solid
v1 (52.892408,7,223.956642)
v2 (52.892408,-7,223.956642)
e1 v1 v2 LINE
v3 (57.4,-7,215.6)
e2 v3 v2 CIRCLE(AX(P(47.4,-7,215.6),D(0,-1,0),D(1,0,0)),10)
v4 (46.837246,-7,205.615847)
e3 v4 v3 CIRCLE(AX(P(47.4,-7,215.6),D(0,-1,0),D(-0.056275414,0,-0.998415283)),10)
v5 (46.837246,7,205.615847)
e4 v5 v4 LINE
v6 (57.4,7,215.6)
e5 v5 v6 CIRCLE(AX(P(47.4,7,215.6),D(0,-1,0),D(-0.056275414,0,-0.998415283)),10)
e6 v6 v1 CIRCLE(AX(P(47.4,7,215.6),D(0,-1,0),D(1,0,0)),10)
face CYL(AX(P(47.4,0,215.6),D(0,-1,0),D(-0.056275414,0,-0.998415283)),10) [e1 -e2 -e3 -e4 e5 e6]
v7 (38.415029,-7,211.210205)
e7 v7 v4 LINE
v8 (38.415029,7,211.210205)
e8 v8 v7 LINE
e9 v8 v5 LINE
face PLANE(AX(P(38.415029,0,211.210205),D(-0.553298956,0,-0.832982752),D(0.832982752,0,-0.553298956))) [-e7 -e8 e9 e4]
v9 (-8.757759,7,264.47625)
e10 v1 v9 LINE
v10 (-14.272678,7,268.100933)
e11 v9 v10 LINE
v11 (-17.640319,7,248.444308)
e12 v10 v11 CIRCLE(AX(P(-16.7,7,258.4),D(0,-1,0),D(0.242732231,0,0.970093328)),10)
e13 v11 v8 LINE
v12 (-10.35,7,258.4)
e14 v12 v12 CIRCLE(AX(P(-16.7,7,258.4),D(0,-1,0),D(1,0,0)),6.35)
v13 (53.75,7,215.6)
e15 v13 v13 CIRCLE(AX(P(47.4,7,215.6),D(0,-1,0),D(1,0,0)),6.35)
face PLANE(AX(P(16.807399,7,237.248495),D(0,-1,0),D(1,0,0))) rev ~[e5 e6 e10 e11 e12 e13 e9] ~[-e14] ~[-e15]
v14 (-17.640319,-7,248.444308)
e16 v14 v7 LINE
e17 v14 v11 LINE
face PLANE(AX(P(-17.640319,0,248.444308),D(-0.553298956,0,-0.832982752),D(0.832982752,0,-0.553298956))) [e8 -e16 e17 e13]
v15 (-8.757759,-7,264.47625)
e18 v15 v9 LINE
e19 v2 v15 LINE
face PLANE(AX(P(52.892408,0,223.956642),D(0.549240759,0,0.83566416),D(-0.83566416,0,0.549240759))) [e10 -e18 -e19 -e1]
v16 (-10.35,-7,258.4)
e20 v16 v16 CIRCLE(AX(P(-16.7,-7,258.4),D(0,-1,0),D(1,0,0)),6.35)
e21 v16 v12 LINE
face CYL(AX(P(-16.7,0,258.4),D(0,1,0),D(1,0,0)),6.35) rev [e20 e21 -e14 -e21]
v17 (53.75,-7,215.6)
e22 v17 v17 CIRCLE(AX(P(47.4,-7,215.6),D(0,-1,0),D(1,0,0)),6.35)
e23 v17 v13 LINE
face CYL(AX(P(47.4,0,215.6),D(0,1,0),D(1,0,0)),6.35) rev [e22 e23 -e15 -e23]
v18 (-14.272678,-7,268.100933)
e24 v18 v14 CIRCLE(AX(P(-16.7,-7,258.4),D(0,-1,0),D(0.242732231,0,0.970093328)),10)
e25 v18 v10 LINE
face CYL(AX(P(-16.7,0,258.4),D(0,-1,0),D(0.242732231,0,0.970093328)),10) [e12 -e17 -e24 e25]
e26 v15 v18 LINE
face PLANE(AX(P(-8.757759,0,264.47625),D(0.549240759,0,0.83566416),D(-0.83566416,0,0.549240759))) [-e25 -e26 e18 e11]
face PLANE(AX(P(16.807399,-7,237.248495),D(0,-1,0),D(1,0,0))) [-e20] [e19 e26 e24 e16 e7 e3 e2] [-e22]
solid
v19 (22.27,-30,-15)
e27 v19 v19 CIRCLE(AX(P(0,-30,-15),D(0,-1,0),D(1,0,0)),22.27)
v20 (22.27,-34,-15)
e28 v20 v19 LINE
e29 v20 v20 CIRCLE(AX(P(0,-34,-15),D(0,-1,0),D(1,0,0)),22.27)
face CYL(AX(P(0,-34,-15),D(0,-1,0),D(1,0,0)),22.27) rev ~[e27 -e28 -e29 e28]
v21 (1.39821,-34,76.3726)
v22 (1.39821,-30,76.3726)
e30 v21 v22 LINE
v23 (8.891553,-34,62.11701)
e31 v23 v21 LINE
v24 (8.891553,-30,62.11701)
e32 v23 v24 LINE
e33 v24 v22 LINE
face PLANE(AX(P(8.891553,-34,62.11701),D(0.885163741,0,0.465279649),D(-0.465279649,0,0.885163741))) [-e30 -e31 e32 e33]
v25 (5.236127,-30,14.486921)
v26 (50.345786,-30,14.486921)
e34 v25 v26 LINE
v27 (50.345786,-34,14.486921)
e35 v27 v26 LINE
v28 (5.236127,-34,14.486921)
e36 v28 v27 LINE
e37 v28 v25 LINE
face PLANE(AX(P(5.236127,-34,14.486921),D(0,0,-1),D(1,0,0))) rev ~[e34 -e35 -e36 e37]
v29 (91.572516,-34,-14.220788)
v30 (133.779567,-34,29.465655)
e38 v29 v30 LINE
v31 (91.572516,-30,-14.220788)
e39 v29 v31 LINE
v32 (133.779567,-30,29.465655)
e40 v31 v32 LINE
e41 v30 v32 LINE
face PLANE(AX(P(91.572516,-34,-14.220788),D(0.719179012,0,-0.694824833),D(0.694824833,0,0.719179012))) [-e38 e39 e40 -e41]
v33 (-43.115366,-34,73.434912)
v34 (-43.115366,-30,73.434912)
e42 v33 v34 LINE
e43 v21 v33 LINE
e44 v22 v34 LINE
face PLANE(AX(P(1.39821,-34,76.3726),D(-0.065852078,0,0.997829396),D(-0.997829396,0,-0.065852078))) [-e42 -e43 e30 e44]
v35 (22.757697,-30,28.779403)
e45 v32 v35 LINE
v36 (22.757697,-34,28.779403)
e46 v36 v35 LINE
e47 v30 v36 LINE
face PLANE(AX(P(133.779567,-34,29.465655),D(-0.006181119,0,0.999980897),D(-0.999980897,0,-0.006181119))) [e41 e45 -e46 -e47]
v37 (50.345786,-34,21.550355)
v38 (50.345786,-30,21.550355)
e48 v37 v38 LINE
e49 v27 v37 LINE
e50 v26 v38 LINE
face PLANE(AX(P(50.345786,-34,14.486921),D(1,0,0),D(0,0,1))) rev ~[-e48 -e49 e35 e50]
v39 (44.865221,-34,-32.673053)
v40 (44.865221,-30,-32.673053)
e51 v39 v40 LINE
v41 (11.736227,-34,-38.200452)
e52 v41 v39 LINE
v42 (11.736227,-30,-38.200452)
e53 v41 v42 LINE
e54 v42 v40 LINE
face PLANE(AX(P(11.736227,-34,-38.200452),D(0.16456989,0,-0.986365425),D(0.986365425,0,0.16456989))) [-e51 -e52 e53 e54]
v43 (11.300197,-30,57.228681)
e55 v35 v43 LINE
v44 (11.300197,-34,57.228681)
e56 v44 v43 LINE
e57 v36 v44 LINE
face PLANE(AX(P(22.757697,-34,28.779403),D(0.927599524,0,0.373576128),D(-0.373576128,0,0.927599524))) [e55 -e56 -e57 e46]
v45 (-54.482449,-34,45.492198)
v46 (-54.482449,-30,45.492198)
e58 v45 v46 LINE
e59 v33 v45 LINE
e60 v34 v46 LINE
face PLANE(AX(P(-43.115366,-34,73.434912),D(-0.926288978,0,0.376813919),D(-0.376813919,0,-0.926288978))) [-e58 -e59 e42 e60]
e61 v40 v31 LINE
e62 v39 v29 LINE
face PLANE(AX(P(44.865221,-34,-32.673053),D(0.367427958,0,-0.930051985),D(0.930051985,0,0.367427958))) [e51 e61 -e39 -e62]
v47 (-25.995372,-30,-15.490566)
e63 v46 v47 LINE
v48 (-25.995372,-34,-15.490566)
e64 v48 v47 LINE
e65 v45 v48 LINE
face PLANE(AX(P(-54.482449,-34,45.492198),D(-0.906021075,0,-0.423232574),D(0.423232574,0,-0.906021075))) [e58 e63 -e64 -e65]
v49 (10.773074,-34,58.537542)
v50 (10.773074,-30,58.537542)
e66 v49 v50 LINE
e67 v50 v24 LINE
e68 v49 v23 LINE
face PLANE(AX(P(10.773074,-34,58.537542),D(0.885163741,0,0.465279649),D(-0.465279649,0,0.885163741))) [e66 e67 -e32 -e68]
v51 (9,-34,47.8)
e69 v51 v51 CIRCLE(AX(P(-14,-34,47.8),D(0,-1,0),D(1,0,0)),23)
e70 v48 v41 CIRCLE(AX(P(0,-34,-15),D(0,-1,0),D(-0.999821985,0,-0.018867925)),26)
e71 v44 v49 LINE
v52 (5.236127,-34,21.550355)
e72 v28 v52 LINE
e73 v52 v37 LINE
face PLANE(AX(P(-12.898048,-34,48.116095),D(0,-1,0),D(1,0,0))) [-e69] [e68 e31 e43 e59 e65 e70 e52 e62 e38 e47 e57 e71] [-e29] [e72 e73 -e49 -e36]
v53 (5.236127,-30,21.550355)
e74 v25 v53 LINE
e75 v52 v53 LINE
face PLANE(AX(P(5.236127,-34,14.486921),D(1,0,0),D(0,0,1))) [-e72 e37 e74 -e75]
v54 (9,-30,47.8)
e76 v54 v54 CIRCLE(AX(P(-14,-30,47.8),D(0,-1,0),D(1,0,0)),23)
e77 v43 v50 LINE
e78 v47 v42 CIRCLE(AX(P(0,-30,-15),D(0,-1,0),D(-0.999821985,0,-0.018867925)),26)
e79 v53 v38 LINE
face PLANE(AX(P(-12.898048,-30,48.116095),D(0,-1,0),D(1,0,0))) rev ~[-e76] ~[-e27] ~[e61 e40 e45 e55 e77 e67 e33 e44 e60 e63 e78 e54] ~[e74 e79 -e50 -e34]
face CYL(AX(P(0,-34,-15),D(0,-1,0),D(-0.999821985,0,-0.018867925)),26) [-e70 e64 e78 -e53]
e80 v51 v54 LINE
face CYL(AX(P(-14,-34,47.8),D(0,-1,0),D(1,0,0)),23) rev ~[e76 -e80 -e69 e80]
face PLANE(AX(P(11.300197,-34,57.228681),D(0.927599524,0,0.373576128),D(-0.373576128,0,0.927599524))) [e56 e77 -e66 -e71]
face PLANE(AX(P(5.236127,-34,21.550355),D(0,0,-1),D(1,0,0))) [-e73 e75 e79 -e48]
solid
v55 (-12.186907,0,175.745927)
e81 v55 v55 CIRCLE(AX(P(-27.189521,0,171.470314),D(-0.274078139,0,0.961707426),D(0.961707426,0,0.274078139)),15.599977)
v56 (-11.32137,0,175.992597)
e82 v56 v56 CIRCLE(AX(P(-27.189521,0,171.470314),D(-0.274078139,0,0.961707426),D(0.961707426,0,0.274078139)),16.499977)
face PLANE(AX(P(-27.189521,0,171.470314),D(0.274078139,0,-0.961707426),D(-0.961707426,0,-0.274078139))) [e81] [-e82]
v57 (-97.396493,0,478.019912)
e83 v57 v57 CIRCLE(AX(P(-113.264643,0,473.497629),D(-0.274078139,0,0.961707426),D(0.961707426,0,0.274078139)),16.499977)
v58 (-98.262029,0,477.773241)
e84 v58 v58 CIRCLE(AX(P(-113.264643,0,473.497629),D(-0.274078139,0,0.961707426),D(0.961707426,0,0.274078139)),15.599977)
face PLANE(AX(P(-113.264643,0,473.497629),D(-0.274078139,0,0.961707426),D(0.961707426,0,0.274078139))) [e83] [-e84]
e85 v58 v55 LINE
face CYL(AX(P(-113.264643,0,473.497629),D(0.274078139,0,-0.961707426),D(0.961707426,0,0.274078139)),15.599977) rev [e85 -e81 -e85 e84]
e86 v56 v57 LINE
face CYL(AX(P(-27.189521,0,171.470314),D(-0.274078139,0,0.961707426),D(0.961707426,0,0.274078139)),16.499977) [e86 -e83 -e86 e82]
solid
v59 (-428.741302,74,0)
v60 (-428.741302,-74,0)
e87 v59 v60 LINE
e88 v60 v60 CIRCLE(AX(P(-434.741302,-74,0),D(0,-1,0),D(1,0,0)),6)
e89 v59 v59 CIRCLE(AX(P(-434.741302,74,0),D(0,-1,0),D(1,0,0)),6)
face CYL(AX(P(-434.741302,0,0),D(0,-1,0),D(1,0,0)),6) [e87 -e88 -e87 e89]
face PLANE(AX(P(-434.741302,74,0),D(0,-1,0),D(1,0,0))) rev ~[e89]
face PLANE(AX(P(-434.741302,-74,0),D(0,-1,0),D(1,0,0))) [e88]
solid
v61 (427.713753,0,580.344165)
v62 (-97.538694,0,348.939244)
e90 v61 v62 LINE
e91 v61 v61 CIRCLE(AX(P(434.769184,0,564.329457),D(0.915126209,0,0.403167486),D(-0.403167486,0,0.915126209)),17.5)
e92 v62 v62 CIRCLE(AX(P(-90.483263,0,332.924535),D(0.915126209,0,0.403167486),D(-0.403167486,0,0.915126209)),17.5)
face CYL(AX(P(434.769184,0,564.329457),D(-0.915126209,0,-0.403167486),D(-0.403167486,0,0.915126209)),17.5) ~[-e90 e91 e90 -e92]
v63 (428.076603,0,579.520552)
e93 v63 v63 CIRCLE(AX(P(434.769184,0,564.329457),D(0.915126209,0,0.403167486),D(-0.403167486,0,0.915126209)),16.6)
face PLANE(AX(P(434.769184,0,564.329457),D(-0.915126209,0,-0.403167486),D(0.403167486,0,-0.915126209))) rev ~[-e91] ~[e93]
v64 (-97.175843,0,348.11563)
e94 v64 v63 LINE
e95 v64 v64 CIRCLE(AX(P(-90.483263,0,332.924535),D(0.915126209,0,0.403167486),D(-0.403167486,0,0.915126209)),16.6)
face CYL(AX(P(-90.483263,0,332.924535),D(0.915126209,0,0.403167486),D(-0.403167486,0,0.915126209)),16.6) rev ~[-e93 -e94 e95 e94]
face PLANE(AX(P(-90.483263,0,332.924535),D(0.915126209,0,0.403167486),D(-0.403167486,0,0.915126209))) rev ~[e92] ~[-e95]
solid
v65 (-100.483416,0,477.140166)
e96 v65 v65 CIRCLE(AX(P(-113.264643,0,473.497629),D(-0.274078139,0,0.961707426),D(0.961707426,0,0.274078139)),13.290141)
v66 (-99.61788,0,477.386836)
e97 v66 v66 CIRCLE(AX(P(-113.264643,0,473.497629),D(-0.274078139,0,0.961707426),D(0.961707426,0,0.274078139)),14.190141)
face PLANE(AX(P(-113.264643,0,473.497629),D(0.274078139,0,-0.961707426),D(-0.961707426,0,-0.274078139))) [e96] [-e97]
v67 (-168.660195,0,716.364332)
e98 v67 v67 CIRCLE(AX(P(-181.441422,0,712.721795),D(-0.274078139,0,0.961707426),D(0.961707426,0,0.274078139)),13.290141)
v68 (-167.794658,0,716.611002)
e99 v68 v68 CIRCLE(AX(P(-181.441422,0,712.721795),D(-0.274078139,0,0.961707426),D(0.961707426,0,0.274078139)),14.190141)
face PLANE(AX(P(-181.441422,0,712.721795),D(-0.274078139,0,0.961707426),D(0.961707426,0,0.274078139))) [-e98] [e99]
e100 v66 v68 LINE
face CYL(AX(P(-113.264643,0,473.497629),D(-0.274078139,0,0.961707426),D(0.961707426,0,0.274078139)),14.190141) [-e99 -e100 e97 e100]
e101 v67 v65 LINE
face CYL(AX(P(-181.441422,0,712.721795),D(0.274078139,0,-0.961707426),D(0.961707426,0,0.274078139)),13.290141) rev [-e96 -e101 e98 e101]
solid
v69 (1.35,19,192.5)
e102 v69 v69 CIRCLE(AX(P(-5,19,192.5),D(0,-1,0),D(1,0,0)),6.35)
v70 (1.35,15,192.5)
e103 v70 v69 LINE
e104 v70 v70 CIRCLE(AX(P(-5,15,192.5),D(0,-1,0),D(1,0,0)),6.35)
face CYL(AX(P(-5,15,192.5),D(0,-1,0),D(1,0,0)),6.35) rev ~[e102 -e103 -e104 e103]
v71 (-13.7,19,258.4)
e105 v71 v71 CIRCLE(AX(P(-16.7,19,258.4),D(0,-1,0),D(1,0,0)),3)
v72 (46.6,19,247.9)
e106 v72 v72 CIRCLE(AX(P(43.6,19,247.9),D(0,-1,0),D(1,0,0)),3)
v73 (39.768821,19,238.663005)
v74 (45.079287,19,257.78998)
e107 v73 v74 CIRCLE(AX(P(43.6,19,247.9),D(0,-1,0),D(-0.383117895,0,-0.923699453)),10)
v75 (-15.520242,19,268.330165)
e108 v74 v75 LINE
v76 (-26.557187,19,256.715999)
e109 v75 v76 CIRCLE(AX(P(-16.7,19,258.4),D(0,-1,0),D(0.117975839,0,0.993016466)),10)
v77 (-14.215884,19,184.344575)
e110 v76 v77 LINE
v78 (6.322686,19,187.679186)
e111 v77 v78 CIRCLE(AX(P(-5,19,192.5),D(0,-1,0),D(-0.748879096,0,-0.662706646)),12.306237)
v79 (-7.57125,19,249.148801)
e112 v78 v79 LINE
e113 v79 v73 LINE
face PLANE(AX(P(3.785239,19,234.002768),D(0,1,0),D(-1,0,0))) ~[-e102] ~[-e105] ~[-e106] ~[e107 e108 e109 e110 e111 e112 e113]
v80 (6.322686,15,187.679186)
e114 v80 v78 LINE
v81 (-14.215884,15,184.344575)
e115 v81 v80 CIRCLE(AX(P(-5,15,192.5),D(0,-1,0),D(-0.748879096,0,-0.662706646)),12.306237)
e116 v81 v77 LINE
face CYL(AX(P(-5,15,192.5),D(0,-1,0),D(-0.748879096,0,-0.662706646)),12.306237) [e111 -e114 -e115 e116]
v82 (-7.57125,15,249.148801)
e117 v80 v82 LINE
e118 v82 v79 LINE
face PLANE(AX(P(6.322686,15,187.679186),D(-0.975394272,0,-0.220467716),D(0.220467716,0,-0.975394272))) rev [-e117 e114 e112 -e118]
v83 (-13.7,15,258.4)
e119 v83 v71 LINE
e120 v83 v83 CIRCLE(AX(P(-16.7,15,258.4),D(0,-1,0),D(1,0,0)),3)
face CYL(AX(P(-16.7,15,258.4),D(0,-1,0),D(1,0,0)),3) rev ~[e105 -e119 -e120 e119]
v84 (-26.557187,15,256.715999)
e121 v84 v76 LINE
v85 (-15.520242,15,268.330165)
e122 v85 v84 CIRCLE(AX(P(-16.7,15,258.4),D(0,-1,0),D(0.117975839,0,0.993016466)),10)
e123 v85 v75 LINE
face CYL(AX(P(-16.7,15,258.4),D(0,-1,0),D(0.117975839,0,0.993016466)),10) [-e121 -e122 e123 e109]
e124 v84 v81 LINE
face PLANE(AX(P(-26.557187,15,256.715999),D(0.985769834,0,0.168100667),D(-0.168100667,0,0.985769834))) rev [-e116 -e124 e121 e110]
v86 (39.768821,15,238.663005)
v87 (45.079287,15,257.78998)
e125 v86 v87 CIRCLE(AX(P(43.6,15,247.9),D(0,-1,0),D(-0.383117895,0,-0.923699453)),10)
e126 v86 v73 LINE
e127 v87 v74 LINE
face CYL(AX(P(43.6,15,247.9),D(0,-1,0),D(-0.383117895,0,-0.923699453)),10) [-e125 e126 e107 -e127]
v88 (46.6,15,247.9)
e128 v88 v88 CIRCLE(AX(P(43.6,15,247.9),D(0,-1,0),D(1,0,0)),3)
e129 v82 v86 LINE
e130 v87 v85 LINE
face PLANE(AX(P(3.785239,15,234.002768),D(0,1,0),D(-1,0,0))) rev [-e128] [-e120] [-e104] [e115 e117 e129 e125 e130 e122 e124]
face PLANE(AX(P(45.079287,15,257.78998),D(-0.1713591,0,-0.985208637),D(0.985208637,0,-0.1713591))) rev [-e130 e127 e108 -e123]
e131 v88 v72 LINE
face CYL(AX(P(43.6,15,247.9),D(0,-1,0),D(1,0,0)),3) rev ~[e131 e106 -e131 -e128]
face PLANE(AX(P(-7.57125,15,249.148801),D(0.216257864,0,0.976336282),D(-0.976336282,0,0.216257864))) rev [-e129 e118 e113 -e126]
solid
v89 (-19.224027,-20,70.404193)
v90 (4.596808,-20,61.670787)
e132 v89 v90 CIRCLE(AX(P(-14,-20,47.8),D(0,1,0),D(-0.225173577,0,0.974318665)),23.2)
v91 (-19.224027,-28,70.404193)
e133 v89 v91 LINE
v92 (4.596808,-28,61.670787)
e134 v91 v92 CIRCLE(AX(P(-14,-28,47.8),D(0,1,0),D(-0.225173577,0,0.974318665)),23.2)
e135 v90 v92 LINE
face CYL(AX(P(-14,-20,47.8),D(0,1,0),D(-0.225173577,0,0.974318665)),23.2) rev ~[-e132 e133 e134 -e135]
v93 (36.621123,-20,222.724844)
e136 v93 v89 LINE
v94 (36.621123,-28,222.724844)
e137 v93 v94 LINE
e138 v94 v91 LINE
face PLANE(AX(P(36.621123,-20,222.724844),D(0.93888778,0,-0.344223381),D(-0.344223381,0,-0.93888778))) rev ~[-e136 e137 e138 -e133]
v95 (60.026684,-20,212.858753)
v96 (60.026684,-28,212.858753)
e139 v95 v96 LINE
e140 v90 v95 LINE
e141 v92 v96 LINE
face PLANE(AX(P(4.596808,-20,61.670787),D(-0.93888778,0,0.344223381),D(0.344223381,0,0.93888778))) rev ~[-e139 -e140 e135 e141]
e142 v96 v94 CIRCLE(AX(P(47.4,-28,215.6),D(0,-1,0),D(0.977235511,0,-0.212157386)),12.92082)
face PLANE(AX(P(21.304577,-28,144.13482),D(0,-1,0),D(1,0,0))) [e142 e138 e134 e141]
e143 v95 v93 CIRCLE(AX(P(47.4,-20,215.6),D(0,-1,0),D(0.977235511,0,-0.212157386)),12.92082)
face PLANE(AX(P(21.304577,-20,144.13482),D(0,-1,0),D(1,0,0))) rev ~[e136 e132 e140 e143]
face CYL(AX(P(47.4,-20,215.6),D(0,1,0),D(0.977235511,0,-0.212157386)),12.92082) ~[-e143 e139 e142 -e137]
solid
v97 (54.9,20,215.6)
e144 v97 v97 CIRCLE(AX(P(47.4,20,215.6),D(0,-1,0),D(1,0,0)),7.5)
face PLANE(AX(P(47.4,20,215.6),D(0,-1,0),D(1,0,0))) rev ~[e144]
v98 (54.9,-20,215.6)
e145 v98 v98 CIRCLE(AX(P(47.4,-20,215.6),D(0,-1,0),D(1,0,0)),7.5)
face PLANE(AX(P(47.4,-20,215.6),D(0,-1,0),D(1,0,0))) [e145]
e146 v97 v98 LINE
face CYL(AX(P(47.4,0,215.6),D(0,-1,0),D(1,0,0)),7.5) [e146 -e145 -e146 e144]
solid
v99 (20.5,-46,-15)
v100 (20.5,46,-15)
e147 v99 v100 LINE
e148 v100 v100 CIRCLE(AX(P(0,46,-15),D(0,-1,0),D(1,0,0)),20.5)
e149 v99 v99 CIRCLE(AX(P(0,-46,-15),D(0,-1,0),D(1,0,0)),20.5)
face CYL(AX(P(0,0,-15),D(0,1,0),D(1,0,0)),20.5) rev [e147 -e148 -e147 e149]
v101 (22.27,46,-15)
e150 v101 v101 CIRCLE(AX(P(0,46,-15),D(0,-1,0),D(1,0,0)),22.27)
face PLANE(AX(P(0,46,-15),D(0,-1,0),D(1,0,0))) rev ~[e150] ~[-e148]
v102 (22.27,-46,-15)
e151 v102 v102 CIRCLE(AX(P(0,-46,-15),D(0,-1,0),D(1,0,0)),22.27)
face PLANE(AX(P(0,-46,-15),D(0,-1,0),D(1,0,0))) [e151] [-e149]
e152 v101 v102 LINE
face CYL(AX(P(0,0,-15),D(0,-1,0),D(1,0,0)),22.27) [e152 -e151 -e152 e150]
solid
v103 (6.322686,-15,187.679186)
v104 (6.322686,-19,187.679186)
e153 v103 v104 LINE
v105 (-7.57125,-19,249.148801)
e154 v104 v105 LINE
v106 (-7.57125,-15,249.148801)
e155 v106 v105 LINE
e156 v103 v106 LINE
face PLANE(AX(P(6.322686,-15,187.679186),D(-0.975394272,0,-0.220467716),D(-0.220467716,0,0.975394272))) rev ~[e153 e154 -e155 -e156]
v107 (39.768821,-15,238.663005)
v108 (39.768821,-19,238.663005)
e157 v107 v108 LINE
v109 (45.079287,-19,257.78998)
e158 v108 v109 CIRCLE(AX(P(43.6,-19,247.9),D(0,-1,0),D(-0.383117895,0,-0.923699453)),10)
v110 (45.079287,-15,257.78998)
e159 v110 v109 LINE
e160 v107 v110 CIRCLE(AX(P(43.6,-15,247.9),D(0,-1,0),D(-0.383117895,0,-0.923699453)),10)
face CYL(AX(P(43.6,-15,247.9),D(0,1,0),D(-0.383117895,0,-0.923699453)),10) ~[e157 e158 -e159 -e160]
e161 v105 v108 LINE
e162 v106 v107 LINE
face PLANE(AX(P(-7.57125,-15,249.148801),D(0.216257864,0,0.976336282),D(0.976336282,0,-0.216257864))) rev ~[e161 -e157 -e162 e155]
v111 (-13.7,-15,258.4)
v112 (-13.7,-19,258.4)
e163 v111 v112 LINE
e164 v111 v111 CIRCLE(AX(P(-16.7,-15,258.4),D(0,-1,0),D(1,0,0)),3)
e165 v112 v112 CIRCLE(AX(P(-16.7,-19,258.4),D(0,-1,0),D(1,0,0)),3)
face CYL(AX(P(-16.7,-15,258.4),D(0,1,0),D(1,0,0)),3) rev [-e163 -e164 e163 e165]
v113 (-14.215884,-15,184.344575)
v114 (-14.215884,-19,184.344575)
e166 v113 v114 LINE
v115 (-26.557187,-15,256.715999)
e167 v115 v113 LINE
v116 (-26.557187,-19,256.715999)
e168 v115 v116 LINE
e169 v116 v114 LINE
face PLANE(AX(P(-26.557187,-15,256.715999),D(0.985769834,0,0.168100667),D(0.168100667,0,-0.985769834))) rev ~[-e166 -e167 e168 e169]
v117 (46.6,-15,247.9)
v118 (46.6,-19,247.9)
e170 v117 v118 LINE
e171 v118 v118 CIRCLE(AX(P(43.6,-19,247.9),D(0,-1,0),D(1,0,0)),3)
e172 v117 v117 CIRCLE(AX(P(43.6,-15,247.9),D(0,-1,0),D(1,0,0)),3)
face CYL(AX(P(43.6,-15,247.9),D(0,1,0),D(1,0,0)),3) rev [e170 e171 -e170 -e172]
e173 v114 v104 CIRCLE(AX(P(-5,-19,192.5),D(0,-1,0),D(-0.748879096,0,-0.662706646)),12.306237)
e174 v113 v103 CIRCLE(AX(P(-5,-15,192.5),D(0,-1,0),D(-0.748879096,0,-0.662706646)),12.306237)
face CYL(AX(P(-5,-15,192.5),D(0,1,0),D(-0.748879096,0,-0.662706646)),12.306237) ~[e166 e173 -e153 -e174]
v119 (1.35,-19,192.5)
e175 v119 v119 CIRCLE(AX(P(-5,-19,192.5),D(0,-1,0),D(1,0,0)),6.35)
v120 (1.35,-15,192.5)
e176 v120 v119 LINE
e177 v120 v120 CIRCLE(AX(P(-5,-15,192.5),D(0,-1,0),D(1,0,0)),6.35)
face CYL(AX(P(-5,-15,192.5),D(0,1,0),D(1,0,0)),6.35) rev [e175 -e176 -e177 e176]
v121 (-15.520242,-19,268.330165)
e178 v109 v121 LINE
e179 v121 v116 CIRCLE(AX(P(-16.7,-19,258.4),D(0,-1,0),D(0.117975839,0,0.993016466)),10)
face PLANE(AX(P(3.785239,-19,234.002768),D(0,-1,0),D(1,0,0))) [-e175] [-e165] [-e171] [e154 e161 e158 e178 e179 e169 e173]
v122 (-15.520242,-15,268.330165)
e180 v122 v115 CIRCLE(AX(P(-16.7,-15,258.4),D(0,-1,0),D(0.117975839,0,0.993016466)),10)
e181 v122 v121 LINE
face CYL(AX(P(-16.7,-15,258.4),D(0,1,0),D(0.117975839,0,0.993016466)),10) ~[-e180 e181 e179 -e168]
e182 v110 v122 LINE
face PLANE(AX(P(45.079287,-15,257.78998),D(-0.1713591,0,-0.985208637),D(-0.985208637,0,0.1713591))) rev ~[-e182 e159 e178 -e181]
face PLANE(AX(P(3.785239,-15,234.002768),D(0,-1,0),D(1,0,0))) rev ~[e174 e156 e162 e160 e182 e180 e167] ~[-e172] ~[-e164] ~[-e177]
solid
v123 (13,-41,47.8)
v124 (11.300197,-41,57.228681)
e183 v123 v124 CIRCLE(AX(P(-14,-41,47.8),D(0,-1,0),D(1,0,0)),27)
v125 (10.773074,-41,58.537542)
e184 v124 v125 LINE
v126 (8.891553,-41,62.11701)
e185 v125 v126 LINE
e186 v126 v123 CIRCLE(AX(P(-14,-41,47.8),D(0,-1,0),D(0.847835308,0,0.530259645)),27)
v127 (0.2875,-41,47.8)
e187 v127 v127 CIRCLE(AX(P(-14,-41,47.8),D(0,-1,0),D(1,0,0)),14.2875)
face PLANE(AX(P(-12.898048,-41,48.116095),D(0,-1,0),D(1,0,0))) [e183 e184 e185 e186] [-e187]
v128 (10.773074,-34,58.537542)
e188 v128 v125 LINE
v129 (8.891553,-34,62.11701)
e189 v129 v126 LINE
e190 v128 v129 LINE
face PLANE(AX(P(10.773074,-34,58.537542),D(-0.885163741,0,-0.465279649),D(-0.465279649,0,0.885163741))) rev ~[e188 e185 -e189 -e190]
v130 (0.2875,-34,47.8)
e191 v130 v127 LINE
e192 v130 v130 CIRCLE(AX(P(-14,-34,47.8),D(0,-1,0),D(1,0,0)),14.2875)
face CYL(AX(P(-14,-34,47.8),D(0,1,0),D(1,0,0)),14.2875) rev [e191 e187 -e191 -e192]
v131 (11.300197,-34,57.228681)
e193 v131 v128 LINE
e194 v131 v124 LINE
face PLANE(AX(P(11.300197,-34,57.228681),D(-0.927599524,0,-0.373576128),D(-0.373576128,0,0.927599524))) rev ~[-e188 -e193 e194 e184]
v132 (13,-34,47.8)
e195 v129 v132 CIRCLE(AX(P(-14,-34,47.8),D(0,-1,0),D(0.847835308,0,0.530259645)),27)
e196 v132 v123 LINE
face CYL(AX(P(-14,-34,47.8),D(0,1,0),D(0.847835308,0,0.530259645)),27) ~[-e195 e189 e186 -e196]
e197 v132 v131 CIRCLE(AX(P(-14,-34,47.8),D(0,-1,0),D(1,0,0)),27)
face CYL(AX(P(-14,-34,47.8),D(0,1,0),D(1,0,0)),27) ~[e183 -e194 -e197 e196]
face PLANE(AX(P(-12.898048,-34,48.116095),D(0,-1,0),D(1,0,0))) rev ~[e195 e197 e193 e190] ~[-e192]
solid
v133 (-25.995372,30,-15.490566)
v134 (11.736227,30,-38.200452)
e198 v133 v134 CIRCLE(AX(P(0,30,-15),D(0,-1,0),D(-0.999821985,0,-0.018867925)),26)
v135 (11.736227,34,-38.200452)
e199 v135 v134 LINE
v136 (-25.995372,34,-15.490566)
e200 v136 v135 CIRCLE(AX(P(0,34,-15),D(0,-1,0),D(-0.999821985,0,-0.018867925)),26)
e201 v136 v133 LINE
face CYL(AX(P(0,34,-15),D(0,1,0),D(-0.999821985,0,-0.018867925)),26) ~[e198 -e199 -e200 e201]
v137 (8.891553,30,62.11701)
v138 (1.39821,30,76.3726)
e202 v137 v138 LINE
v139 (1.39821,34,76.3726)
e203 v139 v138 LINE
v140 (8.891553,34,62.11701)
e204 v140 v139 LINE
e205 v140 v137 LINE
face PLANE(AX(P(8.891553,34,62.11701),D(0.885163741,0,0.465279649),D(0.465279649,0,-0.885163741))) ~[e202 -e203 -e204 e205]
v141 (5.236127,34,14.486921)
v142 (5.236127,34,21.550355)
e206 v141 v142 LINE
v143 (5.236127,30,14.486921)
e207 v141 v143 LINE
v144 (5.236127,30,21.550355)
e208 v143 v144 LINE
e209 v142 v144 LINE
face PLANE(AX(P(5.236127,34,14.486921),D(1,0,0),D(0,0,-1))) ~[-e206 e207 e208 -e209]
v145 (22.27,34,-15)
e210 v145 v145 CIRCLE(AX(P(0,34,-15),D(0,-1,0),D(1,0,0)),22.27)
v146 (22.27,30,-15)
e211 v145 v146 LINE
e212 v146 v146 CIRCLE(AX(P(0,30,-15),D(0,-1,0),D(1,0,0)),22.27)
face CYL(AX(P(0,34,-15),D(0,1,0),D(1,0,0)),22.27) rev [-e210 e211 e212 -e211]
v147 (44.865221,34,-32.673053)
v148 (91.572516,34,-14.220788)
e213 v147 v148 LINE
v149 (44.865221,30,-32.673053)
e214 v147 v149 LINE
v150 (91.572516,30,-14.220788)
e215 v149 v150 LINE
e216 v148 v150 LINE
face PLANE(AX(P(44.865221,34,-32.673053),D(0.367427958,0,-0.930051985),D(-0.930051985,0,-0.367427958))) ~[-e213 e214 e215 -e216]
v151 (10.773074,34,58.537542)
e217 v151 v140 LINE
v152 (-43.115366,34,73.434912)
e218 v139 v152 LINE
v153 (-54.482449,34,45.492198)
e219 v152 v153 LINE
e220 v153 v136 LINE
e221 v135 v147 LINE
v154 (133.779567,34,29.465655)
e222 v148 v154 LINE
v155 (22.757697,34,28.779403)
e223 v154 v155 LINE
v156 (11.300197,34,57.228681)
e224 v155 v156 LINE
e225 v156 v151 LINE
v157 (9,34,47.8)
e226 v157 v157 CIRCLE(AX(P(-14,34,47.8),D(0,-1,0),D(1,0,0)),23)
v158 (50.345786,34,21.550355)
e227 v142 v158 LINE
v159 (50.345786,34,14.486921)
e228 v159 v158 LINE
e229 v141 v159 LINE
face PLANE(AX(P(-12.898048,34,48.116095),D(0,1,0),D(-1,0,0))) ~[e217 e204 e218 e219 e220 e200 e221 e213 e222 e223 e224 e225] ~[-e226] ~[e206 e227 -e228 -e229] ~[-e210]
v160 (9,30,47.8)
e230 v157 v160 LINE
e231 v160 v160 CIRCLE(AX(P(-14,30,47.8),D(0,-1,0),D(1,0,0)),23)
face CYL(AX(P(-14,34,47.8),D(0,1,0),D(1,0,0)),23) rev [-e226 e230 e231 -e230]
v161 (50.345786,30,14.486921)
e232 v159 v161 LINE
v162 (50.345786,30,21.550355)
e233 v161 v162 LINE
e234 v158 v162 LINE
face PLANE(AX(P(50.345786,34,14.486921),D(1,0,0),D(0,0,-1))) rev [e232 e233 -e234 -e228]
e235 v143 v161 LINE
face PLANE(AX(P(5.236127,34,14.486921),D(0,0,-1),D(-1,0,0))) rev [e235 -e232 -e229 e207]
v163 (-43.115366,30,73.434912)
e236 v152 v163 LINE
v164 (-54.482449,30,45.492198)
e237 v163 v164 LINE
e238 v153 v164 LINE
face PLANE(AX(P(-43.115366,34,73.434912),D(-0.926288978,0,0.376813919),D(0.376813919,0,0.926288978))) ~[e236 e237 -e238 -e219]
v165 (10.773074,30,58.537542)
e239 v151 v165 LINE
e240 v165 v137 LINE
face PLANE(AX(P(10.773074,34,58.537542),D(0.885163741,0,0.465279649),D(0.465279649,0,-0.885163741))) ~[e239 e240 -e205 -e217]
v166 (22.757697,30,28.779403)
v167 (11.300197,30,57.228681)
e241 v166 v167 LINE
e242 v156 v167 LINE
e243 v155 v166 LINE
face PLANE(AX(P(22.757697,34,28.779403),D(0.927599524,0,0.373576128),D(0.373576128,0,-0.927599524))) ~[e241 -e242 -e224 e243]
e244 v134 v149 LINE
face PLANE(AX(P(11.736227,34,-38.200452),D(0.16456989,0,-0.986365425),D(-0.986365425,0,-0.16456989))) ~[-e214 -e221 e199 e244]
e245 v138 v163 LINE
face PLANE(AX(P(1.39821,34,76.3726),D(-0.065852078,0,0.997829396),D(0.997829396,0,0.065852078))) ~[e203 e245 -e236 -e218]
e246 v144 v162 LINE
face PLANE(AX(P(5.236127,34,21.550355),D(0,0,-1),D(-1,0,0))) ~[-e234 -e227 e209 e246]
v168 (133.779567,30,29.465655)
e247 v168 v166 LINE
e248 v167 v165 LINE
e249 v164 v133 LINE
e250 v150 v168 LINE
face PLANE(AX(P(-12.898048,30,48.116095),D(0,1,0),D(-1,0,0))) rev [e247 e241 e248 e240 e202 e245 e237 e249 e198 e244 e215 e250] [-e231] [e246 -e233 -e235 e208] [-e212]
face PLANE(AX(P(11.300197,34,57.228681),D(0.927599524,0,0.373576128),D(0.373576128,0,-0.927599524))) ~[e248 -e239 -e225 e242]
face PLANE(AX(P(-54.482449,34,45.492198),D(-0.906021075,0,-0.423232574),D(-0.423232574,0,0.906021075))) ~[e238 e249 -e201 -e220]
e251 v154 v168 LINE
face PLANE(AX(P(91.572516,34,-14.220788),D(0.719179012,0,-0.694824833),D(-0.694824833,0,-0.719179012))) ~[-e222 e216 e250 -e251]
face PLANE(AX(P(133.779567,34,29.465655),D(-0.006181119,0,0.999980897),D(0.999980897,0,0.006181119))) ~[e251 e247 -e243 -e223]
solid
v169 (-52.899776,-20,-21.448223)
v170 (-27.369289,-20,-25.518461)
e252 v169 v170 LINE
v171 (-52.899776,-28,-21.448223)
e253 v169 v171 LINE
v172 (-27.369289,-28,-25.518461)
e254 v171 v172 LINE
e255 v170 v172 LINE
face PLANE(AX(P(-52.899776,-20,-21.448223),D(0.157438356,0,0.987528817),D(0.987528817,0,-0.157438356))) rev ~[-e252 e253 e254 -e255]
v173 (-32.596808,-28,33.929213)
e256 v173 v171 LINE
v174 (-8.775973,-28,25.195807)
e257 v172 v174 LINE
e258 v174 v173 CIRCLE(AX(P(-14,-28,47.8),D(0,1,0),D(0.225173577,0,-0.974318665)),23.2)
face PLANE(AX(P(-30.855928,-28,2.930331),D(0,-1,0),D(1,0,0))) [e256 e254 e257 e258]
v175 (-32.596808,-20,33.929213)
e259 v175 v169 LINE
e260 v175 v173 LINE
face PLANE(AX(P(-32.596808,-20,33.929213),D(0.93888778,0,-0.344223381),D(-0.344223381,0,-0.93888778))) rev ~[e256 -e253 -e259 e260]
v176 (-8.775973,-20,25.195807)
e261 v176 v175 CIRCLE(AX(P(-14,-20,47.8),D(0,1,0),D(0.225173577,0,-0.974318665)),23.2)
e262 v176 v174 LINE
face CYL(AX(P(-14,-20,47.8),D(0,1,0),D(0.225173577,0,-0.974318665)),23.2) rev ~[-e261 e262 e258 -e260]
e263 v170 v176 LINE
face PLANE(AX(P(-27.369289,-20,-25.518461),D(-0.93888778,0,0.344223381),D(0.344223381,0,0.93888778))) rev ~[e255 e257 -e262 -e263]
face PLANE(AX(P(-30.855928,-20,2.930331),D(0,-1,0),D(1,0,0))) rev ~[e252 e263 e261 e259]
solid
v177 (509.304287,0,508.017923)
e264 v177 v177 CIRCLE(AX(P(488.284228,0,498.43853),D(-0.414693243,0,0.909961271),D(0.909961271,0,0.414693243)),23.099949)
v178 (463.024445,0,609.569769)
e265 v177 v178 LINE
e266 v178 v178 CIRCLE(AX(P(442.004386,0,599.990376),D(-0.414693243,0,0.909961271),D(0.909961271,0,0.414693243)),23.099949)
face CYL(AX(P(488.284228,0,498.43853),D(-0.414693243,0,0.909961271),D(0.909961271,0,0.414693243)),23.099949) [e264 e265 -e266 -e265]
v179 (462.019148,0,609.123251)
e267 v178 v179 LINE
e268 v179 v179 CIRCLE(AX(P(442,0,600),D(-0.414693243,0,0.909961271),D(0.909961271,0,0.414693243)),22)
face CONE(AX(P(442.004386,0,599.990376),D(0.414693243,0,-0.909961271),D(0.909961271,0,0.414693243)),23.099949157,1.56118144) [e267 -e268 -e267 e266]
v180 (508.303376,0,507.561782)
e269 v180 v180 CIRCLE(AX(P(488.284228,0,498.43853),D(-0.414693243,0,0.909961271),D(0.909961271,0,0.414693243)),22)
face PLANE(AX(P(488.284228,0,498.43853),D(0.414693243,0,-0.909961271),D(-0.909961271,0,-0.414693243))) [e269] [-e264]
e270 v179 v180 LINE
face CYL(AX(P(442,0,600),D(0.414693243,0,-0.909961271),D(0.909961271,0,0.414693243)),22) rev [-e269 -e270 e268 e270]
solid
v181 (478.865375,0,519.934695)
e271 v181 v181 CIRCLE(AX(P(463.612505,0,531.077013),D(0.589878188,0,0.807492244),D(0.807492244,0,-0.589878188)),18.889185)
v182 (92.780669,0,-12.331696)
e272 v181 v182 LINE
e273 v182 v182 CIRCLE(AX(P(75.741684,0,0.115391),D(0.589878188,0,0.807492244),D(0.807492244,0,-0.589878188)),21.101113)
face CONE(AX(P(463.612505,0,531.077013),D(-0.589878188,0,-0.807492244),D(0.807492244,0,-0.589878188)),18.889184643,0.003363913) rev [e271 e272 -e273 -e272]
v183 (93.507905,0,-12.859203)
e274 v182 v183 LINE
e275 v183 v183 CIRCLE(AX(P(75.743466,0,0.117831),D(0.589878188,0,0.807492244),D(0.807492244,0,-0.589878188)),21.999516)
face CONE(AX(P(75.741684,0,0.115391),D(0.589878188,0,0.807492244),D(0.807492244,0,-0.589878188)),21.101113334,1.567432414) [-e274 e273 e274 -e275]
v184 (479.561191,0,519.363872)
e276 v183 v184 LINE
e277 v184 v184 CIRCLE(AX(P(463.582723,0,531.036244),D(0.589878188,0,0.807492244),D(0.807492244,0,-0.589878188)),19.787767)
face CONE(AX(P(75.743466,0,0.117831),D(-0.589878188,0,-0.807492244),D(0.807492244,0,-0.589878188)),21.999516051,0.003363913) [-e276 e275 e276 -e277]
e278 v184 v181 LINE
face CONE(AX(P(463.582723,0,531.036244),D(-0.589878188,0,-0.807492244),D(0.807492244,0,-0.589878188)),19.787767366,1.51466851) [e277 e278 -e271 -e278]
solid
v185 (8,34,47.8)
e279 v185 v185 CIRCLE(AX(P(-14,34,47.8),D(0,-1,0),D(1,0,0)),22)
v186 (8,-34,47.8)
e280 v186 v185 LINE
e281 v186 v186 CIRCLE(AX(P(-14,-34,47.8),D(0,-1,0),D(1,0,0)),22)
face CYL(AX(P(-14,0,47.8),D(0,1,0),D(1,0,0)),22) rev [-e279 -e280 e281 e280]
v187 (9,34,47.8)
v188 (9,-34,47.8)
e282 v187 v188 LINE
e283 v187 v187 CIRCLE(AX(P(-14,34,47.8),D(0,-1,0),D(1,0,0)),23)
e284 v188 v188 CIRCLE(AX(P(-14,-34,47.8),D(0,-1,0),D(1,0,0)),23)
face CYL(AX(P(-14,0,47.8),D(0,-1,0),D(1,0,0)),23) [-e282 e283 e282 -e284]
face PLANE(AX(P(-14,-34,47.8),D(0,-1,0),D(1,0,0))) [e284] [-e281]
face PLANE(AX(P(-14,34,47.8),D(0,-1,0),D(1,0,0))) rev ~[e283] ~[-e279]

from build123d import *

# Parameters (mm, degrees)
F5_R      = 22.27
F5_R_2    = 20.5
F6_DEPTH  = 46
F7_R      = 23
F7_R_2    = 22
F8_DEPTH  = 34
F9_R      = 23
F9_W      = 45.1096589677
F9_H      = 7.0634344593
F9_R_2    = 22.27
F10_DEPTH = 4
F11_R     = 23
F11_R_2   = 14.2875
F12_DEPTH = 7
F13_R     = 6
F14_DEPTH = 74
F21_R     = 7.5
F22_DEPTH = 20
F24_R     = 6.35
F24_R_2   = 3
F25_DEPTH = 4
F30_DEPTH = 8
F31_R     = 6.35
F32_DEPTH = 7


with BuildPart() as f2:
    # F1 (on Front) → F2 (revolve)
    with BuildSketch(Plane.XZ):
        Polygon((463.024444974, 609.5697688769), (462.0191479593, 609.1232513384), (508.3033762543, 507.5617816335), (509.3042873854, 508.0179231153), align=None)
    revolve(axis=Axis((465.1421141475, 0, 549.2192651475), (-0.4146932427, 0, 0.9099612709)))


with BuildPart() as f4:
    # F3 (on Front) → F4 (revolve)
    with BuildSketch(Plane.XZ):
        Polygon((92.7806691383, -12.3316956712), (93.5079050699, -12.8592034672), (479.5611913158, 519.3638715283), (478.8653748114, 519.9346949618), align=None)
    revolve(axis=Axis((262.6120625056, 0, 255.9247842068), (0.5898781878, 0, 0.8074922437)))


with BuildPart() as f6:
    # F5 (on Front) → F6 (new body, symmetric)
    with BuildSketch(Plane.XZ):
        with Locations((0, -15)):
            Circle(F5_R)
        with Locations((0, -15)):
            Circle(F5_R_2, mode=Mode.SUBTRACT)
    extrude(amount=F6_DEPTH, both=True)


with BuildPart() as f8:
    # F7 (on Front) → F8 (new body, symmetric)
    with BuildSketch(Plane.XZ):
        with Locations((-14, 47.8)):
            Circle(F7_R)
        with Locations((-14, 47.8)):
            Circle(F7_R_2, mode=Mode.SUBTRACT)
    extrude(amount=F8_DEPTH, both=True)


with BuildPart() as f10:
    # F9 (on face) → F10 (new body)
    with BuildSketch(Plane.XZ.offset(34)):
        with BuildLine():
            Line((10.7730740469, 58.5375417236), (8.8915533084, 62.1170104117))
            ThreePointArc((8.8915533084, 62.1170104117), (-39.9525715424, 40.3525823041), (13, 47.8))
            ThreePointArc((13, 47.8), (12.5716514426, 52.5903381524), (11.3001970656, 57.2286811612))
            Line((11.3001970656, 57.2286811612), (10.7730740469, 58.5375417236))
        make_face()
        with Locations((-14, 47.8)):
            Circle(F9_R, mode=Mode.SUBTRACT)
        with BuildLine():
            Line((-54.4824488461, 45.4921983182), (-25.9953716065, -15.4905660377))
            ThreePointArc((-25.9953716065, -15.4905660377), (-0.2452939356, 10.9988428759), (26, -15))
            ThreePointArc((26, -15), (22.1488363671, -28.6172334775), (11.7362271091, -38.2004520052))
            Line((11.7362271091, -38.2004520052), (44.8652207851, -32.6730534434))
            Line((44.8652207851, -32.6730534434), (91.5725156665, -14.2207881436))
            Line((91.5725156665, -14.2207881436), (133.7795674682, 29.4656553805))
            Line((133.7795674682, 29.4656553805), (22.757696721, 28.7794028908))
            Line((22.757696721, 28.7794028908), (11.3001970656, 57.2286811612))
            ThreePointArc((11.3001970656, 57.2286811612), (12.5716514426, 52.5903381524), (13, 47.8))
            ThreePointArc((13, 47.8), (-39.9525715424, 40.3525823041), (8.8915533084, 62.1170104117))
            Line((8.8915533084, 62.1170104117), (1.3982102156, 76.3725997448))
            Line((1.3982102156, 76.3725997448), (-43.1153662503, 73.4349116683))
            Line((-43.1153662503, 73.4349116683), (-54.4824488461, 45.4921983182))
        make_face()
        with Locations((27.790956432, 18.0186382495)):
            Rectangle(F9_W, F9_H, mode=Mode.SUBTRACT)
        with BuildLine():
            ThreePointArc((26, -15), (-0.2452939356, 10.9988428759), (-25.9953716065, -15.4905660377))
            ThreePointArc((-25.9953716065, -15.4905660377), (-13.4076668594, -37.2763208225), (11.7362271091, -38.2004520052))
            ThreePointArc((11.7362271091, -38.2004520052), (22.1488363671, -28.6172334775), (26, -15))
        make_face()
        with Locations((0, -15)):
            Circle(F9_R_2, mode=Mode.SUBTRACT)
    extrude(amount=-F10_DEPTH)


with BuildPart() as f12:
    # F11 (on face) → F12 (new body)
    with BuildSketch(Plane.XZ.offset(34)):
        with BuildLine():
            ThreePointArc((8.8915533084, 62.1170104117), (-39.9525715424, 40.3525823041), (13, 47.8))
            ThreePointArc((13, 47.8), (12.5716514426, 52.5903381524), (11.3001970656, 57.2286811612))
            Line((11.3001970656, 57.2286811612), (10.7730740469, 58.5375417236))
            Line((10.7730740469, 58.5375417236), (8.8915533084, 62.1170104117))
        make_face()
        with Locations((-14, 47.8)):
            Circle(F11_R, mode=Mode.SUBTRACT)
        with Locations((-14, 47.8)):
            Circle(F11_R)
        with Locations((-14, 47.8)):
            Circle(F11_R_2, mode=Mode.SUBTRACT)
    extrude(amount=F12_DEPTH)


with BuildPart() as f14:
    # F13 (on Front) → F14 (new body, symmetric)
    with BuildSketch(Plane.XZ):
        with Locations((-434.7413023857, 0)):
            Circle(F13_R)
    extrude(amount=F14_DEPTH, both=True)


with BuildPart() as f16:
    # F15 (on Front) → F16 (revolve)
    with BuildSketch(Plane.XZ):
        Polygon((428.0766033653, 579.5205516757), (427.7137526275, 580.3441652636), (-97.5386940343, 348.9392435747), (-97.1758432965, 348.1156299868), align=None)
    revolve(axis=Axis((172.1429603092, 0, 448.6269957666), (0.9151262087, 0, 0.4031674864)))


with BuildPart() as f18:
    # F17 (on Front) → F18 (revolve)
    with BuildSketch(Plane.XZ):
        Polygon((-97.396492523, 478.0199117474), (-98.2620292068, 477.7732414226), (-12.1869070889, 175.7459270089), (-11.3213704051, 175.9925973337), align=None)
    revolve(axis=Axis((-104.3154714094, 0, 442.0960544856), (-0.2740781387, 0, 0.9617074264)))


with BuildPart() as f20:
    # F19 (on Front) → F20 (revolve)
    with BuildSketch(Plane.XZ):
        Polygon((-168.6601948117, 716.3643316985), (-100.4834163489, 477.1401656695), (-99.6178796651, 477.3868359943), (-167.794658128, 716.6110020233), align=None)
    revolve(axis=Axis((-104.3154714094, 0, 442.0960544856), (-0.2740781387, 0, 0.9617074264)))


with BuildPart() as f22:
    # F21 (on Front) → F22 (new body, symmetric)
    with BuildSketch(Plane.XZ):
        with Locations((47.4, 215.6)):
            Circle(F21_R)
    extrude(amount=F22_DEPTH, both=True)


with BuildPart() as f25:
    # F24 (on offset) → F25 (new body)
    with BuildSketch(Plane.XZ.offset(15)):
        with BuildLine():
            Line((45.0792866924, 257.7899803277), (-15.5202416132, 268.3301646587))
            ThreePointArc((-15.5202416132, 268.3301646587), (-23.9489070515, 265.2886389483), (-26.5571872744, 256.7159990983))
            Line((-26.5571872744, 256.7159990983), (-14.2158837989, 184.3445748091))
            ThreePointArc((-14.2158837989, 184.3445748091), (-3.0278027841, 180.3528228637), (6.3226862973, 187.6791858309))
            Line((6.3226862973, 187.6791858309), (-7.5712497346, 249.1488009691))
            Line((-7.5712497346, 249.1488009691), (39.7688210528, 238.6630054739))
            ThreePointArc((39.7688210528, 238.6630054739), (53.2355145715, 245.2247693667), (45.0792866924, 257.7899803277))
        make_face()
        with Locations((-5, 192.5)):
            Circle(F24_R, mode=Mode.SUBTRACT)
        with Locations((-16.7, 258.4)):
            Circle(F24_R_2, mode=Mode.SUBTRACT)
        with Locations((43.6, 247.9)):
            Circle(F24_R_2, mode=Mode.SUBTRACT)
    extrude(amount=F25_DEPTH)


with BuildPart() as f26_1:
    # F26: instance of F10
    add(f10.part.mirror(Plane.XZ))


with BuildPart() as f27_1:
    # F27: instance of F25
    add(f25.part.mirror(Plane.XZ))


with BuildPart() as f30:
    # F29 (on offset) → F30 (new body)
    with BuildSketch(Plane.XZ.offset(20)):
        with BuildLine():
            ThreePointArc((-19.2240269809, 70.4041930204), (-6.0140175679, 69.5821965053), (4.5968081765, 61.670786771))
            Line((4.5968081765, 61.670786771), (60.0266836553, 212.8587527107))
            ThreePointArc((60.0266836553, 212.8587527107), (52.418818086, 227.5062606159), (36.6211233975, 222.7248435788))
            Line((36.6211233975, 222.7248435788), (-19.2240269809, 70.4041930204))
        make_face()
    extrude(amount=F30_DEPTH)


with BuildPart() as f30b:
    # F29 (on offset) → F30, piece 2 (new body)
    with BuildSketch(Plane.XZ.offset(20)):
        with BuildLine():
            Line((-52.899775842, -21.4482228084), (-27.3692887319, -25.5184614253))
            Line((-27.3692887319, -25.5184614253), (-8.7759730191, 25.1958069796))
            ThreePointArc((-8.7759730191, 25.1958069796), (-21.9859824321, 26.0178034947), (-32.5968081765, 33.929213229))
            Line((-32.5968081765, 33.929213229), (-52.899775842, -21.4482228084))
        make_face()
    extrude(amount=F30_DEPTH)


with BuildPart() as f32:
    # F31 (on Front) → F32 (new body, symmetric)
    with BuildSketch(Plane.XZ):
        with BuildLine():
            ThreePointArc((-6.7, 258.4), (-9.9695910302, 251.0039473299), (-17.6403190197, 248.4443081536))
            Line((-17.6403190197, 248.4443081536), (38.4150291485, 211.2102051531))
            ThreePointArc((38.4150291485, 211.2102051531), (40.7918678839, 223.1055039761), (52.8924075911, 223.9566416013))
            Line((52.8924075911, 223.9566416013), (-8.7577593686, 264.4762499745))
            ThreePointArc((-8.7577593686, 264.4762499745), (-7.2284001796, 261.607615445), (-6.7, 258.4))
        make_face()
        with BuildLine():
            Line((-8.7577593686, 264.4762499745), (-14.272677692, 268.1009332754))
            ThreePointArc((-14.272677692, 268.1009332754), (-26.5563950047, 260.0886318457), (-17.6403190197, 248.4443081536))
            ThreePointArc((-17.6403190197, 248.4443081536), (-9.9695910302, 251.0039473299), (-6.7, 258.4))
            ThreePointArc((-6.7, 258.4), (-7.2284001796, 261.607615445), (-8.7577593686, 264.4762499745))
        make_face()
        with Locations((-16.7, 258.4)):
            Circle(F31_R, mode=Mode.SUBTRACT)
        with BuildLine():
            ThreePointArc((52.8924075911, 223.9566416013), (40.7918678839, 223.1055039761), (38.4150291485, 211.2102051531))
            Line((38.4150291485, 211.2102051531), (46.8372458635, 205.6158471675))
            ThreePointArc((46.8372458635, 205.6158471675), (54.2692233417, 208.332691648), (57.4, 215.6))
            ThreePointArc((57.4, 215.6), (56.2012520675, 220.3474163547), (52.8924075911, 223.9566416013))
        make_face()
        with Locations((47.4, 215.6)):
            Circle(F31_R, mode=Mode.SUBTRACT)
    extrude(amount=F32_DEPTH, both=True)


solid = Compound([f2.part, f4.part, f6.part, f8.part, f10.part, f12.part, f14.part, f16.part, f18.part, f20.part, f22.part, f25.part, f26_1.part, f27_1.part, f30.part, f30b.part, f32.part])
